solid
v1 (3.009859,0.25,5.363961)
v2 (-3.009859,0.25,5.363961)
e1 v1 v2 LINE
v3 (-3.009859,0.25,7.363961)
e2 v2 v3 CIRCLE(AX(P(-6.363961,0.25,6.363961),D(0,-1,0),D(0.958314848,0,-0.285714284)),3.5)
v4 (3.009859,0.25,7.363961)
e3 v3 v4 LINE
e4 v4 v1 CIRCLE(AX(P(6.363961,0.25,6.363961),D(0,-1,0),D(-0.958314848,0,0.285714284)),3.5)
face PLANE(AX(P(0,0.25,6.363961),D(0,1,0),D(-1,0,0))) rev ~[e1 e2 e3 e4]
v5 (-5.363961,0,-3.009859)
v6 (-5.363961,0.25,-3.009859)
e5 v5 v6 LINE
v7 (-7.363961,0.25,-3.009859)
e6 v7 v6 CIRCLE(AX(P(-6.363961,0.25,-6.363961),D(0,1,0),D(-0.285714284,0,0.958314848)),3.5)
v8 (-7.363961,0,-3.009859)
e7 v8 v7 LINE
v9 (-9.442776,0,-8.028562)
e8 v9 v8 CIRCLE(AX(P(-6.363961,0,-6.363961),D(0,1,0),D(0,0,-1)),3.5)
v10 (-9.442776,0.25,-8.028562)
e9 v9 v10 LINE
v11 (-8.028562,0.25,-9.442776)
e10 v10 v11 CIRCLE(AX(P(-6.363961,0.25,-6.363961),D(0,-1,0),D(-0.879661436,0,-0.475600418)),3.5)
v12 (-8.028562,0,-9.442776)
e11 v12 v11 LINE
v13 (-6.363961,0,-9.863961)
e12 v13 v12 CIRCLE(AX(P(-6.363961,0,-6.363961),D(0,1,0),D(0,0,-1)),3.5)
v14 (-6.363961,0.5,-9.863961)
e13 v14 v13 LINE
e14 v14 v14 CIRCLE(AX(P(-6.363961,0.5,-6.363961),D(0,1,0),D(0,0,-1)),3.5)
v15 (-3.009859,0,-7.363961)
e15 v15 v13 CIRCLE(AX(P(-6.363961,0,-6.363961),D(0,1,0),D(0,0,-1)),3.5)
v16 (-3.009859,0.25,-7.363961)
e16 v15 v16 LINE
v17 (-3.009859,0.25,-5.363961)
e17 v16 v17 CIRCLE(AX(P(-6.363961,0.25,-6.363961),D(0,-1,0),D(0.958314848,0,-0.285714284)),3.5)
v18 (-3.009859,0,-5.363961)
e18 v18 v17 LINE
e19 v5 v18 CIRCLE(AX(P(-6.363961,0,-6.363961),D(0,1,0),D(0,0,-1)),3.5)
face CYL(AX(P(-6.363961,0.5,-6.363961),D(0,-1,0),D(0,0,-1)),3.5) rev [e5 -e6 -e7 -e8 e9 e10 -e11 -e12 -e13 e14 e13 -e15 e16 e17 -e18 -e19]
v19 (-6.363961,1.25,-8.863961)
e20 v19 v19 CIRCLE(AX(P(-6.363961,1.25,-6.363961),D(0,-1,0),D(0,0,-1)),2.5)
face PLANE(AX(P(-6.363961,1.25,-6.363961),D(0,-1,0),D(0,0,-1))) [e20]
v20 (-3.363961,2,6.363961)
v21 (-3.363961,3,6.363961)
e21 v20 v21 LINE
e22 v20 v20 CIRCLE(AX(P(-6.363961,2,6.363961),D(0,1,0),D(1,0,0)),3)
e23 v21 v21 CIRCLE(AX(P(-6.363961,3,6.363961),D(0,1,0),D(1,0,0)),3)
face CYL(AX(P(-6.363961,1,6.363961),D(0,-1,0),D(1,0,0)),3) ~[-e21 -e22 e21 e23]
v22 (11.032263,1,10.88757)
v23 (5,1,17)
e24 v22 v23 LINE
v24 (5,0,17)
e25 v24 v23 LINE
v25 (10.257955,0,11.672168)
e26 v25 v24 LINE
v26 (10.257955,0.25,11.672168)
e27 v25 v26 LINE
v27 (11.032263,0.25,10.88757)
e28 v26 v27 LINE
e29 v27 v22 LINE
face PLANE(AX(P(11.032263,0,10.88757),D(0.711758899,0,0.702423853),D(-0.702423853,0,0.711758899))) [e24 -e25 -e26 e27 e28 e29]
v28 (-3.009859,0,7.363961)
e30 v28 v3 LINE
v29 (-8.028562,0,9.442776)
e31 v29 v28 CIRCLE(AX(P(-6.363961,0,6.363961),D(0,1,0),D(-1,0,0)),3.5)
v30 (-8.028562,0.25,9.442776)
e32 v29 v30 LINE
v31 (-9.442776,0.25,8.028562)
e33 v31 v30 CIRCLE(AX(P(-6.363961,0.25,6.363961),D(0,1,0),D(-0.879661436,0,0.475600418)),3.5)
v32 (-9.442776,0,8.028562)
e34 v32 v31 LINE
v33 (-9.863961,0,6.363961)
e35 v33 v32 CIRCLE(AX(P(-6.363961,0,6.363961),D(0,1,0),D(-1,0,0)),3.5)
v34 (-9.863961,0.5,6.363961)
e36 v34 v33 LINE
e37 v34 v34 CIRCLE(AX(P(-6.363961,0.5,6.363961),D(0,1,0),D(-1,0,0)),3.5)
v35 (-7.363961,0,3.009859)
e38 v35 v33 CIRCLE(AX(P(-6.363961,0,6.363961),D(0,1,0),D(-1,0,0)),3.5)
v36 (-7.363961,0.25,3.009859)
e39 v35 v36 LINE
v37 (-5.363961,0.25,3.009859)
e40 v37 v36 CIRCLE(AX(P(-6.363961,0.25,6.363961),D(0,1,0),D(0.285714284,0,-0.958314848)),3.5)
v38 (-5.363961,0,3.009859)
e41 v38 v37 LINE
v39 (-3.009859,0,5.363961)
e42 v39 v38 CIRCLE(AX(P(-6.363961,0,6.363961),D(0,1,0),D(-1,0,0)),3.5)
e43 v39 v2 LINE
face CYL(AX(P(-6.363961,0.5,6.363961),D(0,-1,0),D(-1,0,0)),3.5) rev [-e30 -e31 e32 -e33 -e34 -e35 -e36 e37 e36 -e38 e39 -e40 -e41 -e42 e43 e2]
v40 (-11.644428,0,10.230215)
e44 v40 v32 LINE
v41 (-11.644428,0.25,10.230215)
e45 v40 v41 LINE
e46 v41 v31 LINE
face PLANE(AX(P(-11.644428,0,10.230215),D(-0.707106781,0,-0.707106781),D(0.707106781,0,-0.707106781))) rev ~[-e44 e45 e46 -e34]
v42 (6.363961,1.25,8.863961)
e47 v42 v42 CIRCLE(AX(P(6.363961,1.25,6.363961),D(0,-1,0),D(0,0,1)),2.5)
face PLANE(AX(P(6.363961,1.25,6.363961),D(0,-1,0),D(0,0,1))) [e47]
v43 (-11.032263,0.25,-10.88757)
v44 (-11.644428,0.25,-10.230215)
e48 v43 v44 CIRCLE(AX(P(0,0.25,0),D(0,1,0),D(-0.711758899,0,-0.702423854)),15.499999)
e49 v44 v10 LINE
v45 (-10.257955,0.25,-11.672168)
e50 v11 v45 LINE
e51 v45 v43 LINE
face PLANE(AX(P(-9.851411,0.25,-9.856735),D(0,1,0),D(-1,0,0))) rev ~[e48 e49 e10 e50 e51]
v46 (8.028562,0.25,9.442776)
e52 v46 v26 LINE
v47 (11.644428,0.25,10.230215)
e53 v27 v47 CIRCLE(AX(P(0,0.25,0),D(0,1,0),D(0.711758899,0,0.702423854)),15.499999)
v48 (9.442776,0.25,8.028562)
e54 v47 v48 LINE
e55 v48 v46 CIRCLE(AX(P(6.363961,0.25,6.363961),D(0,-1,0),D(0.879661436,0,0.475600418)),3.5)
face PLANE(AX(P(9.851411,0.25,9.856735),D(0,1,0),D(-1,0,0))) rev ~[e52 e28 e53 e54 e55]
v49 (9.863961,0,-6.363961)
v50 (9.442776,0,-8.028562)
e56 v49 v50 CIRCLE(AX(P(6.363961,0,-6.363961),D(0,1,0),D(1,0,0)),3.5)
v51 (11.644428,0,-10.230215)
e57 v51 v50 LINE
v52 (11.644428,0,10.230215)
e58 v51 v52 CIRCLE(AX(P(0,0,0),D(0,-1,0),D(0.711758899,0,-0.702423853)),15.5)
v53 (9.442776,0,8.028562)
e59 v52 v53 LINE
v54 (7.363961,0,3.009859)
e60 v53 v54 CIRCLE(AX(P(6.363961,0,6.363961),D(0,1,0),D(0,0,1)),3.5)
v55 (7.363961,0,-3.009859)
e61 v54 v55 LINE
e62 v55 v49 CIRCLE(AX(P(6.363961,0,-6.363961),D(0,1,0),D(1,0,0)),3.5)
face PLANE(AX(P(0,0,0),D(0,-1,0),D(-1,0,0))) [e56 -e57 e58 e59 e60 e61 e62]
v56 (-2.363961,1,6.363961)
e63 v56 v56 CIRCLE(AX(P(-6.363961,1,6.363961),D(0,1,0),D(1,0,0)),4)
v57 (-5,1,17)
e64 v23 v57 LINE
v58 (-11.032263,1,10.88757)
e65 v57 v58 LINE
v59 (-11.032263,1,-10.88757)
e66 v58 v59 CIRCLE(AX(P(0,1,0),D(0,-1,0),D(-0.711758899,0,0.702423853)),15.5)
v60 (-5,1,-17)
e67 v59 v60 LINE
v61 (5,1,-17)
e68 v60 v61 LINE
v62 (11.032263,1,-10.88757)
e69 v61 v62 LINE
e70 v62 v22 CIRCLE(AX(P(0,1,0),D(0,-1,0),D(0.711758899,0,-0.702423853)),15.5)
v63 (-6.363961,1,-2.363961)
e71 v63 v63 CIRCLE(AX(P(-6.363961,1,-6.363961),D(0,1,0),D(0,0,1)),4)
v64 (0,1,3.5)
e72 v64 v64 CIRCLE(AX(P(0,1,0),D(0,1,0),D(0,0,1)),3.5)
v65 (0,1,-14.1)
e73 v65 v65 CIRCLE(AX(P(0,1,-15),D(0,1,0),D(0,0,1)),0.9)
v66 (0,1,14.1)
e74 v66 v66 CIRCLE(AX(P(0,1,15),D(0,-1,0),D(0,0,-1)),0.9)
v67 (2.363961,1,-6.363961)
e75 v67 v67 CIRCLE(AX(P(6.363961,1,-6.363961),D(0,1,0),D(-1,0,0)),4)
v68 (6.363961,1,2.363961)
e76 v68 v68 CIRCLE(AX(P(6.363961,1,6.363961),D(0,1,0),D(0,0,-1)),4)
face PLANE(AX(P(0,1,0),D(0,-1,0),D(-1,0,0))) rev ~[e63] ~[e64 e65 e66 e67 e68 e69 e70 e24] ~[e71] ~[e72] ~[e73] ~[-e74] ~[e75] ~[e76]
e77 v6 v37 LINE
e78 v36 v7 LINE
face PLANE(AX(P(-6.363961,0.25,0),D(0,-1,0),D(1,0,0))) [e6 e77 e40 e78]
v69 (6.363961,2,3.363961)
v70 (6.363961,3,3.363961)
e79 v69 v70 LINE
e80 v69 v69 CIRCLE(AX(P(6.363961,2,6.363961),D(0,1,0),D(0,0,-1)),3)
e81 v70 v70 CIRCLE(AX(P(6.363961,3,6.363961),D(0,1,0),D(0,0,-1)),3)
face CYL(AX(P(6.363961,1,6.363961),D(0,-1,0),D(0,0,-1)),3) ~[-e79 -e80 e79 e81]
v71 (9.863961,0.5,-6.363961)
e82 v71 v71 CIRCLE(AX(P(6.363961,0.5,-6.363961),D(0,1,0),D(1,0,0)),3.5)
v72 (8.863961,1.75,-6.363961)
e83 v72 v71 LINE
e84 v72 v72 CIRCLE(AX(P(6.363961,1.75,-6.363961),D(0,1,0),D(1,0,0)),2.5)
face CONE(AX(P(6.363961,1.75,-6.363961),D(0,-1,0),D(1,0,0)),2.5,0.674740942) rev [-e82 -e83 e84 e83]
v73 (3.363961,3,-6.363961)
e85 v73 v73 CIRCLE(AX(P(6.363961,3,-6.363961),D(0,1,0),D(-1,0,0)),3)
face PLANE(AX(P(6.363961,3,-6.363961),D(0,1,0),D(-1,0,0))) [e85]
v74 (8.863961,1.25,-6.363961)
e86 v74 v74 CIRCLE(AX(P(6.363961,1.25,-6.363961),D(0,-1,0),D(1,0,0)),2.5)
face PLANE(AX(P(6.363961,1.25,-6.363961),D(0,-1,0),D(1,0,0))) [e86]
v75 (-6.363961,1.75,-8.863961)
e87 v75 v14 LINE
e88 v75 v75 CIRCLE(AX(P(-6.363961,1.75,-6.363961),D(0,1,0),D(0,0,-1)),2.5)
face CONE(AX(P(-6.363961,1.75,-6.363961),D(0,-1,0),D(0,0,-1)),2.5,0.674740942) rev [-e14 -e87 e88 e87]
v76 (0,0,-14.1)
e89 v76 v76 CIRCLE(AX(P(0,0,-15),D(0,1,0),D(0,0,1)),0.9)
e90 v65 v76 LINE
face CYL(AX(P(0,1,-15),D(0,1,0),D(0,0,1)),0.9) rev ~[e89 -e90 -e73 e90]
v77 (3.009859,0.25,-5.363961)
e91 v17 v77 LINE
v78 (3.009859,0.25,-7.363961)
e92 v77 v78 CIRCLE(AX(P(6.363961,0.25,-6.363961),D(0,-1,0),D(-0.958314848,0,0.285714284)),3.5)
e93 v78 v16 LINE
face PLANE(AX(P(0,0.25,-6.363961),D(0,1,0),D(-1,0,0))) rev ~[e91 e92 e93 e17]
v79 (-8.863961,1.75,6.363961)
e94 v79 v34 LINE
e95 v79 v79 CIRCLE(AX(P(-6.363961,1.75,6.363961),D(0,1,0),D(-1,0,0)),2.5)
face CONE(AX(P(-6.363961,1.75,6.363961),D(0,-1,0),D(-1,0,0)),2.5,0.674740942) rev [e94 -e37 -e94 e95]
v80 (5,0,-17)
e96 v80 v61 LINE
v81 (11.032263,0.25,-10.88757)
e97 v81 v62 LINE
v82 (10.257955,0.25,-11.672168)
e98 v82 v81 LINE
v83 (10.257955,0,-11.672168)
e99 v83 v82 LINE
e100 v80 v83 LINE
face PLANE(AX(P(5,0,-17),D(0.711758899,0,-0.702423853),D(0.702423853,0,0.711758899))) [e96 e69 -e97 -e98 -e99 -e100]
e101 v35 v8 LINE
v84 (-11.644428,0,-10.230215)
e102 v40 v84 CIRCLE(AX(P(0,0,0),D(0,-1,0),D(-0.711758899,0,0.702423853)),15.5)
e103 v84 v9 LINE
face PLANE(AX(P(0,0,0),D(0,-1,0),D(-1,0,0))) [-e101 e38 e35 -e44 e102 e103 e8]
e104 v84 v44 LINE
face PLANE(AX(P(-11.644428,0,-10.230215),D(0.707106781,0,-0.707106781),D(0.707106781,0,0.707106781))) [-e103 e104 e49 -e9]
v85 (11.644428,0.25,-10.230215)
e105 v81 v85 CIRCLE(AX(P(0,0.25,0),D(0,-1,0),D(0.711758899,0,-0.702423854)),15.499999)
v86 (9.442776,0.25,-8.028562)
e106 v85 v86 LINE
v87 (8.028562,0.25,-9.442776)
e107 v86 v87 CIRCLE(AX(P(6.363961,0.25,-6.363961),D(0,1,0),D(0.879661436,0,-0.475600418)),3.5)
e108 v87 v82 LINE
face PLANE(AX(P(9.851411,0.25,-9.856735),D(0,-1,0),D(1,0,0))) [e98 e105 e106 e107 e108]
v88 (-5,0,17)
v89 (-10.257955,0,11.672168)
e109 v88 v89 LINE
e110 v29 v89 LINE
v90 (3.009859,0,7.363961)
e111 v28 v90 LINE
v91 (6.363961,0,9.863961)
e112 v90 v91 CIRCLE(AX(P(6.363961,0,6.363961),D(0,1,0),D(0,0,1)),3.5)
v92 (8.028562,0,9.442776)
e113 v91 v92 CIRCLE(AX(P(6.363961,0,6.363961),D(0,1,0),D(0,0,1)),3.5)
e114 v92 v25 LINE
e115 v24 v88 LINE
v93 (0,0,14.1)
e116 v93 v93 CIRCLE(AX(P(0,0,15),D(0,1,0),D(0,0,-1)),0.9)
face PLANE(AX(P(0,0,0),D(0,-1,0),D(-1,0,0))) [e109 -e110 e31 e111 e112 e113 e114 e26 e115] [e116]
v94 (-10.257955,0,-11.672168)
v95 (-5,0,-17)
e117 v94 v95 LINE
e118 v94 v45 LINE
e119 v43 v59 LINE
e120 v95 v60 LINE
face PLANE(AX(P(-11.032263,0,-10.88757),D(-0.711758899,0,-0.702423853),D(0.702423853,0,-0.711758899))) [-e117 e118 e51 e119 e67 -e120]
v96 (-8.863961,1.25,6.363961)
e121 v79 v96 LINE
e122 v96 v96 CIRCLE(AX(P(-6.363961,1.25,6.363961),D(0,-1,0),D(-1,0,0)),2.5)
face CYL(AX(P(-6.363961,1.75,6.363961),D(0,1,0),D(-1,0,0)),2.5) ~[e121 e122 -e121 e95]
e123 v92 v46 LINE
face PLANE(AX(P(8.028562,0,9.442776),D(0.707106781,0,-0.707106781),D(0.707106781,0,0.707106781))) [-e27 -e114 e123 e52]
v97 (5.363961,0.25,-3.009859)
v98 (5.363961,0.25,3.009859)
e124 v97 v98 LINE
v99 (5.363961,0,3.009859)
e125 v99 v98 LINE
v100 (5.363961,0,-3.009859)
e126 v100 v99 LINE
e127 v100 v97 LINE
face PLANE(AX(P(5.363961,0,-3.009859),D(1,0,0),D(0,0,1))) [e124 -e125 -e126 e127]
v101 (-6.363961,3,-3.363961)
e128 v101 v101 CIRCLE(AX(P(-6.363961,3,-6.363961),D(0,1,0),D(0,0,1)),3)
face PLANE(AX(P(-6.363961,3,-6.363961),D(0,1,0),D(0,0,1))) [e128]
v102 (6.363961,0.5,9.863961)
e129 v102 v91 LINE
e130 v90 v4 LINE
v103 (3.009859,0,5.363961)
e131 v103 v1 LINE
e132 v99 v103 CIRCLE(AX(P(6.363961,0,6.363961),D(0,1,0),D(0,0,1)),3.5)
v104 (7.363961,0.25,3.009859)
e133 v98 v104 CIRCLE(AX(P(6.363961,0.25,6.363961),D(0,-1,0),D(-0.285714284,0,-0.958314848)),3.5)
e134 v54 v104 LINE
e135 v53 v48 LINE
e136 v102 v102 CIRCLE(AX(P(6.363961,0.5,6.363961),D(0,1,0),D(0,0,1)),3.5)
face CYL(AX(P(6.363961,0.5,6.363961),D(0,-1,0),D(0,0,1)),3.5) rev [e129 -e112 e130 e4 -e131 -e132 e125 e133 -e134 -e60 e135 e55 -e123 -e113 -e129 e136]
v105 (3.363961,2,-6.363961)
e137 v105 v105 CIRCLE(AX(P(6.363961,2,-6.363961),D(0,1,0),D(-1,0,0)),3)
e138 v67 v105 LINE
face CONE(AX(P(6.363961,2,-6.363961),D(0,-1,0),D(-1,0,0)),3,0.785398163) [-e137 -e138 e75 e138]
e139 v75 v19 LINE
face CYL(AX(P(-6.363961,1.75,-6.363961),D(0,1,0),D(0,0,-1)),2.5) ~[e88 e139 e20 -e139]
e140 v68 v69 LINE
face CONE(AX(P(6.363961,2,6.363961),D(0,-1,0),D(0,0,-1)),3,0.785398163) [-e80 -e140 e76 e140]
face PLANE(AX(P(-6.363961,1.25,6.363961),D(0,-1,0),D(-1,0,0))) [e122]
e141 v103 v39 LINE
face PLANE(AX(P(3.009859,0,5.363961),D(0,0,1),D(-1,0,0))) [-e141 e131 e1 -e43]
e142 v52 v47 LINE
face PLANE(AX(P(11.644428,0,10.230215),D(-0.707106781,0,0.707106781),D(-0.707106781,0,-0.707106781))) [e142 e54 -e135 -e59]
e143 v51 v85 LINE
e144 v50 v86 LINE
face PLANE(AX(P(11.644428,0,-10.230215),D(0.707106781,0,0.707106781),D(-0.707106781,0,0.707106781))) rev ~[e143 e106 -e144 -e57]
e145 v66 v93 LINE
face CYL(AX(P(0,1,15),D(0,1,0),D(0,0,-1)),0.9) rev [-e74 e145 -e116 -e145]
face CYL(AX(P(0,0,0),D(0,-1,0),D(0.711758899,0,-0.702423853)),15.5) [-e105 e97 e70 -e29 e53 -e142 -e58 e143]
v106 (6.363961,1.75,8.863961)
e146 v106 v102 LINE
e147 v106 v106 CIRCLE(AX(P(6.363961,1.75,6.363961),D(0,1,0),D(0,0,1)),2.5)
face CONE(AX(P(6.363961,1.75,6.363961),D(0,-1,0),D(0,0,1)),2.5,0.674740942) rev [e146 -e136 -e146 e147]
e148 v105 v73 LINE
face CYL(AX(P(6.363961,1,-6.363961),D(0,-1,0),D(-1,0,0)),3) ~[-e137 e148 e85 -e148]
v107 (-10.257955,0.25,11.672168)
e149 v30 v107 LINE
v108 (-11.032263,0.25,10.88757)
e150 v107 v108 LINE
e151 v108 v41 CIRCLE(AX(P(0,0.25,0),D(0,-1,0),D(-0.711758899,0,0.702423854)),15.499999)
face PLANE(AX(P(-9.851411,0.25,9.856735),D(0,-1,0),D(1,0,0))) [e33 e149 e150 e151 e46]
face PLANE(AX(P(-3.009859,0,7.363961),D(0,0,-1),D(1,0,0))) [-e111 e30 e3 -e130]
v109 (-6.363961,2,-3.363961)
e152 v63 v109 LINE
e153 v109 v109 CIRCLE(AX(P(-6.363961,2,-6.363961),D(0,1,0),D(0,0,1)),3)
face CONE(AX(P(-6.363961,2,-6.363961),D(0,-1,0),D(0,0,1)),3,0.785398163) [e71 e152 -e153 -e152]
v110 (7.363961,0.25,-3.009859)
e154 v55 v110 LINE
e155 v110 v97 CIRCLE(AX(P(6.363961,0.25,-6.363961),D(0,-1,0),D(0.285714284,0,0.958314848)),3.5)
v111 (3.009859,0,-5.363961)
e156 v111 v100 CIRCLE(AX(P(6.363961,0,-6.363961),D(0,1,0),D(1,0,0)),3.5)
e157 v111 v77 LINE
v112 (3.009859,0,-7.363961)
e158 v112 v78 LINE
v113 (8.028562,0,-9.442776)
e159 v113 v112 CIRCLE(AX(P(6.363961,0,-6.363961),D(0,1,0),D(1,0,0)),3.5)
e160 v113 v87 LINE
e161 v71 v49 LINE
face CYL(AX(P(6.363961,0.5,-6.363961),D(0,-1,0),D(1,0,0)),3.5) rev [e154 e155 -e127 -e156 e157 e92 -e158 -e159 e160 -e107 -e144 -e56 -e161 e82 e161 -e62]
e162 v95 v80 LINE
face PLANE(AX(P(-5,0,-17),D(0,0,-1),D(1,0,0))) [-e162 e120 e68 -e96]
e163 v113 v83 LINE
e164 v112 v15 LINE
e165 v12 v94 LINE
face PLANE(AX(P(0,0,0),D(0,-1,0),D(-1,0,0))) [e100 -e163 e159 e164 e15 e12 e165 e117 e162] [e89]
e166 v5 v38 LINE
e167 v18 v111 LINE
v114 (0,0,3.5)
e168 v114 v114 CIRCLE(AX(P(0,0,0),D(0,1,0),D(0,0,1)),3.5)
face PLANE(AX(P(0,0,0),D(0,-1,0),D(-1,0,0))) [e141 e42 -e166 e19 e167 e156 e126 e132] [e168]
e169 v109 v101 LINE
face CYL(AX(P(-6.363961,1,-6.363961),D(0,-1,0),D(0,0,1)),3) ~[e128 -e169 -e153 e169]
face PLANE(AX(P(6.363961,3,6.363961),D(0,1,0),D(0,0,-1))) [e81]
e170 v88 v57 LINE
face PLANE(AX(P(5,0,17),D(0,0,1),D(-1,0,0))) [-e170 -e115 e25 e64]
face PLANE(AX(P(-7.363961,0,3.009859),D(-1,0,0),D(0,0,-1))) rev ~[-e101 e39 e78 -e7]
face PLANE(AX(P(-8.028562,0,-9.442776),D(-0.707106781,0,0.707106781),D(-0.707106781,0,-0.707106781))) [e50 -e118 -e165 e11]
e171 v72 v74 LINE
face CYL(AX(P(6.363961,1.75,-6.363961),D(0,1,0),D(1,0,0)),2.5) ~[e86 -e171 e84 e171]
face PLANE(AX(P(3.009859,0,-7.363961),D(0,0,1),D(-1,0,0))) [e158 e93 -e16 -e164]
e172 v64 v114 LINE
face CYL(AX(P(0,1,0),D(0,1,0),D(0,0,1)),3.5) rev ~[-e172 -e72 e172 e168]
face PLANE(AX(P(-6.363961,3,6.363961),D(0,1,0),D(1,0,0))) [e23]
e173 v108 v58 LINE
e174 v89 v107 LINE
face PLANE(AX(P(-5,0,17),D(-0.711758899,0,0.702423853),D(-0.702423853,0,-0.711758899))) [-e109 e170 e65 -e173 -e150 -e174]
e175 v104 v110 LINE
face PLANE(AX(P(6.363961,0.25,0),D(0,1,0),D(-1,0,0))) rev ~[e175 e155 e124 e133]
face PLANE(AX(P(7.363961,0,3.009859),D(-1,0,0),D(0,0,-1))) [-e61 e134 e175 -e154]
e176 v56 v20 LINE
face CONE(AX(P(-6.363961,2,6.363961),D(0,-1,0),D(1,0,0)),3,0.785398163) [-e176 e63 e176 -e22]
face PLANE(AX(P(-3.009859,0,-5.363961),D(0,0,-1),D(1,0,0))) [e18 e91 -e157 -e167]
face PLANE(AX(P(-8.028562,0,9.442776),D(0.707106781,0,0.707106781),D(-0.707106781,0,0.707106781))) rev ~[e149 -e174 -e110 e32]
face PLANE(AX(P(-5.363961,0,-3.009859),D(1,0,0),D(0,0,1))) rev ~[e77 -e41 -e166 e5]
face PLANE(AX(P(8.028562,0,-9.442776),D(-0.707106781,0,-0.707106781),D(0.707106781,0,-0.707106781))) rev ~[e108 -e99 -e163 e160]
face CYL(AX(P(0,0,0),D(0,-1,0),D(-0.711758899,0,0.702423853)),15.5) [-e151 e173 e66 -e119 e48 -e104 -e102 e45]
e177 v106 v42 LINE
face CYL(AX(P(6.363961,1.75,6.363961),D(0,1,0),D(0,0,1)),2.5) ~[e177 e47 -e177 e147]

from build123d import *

# Parameters (mm, degrees)
BOSS_EXTRUDE1_DEPTH = 1
SKETCH2_R           = 3.5
CUT_EXTRUDE1_DEPTH  = 24.027157879
SKETCH3_R           = 3
BOSS_EXTRUDE2_DEPTH = 2
CIRPATTERN1_COUNT   = 4
CHAMFER1_SIZE       = 1
CIRPATTERN2_COUNT   = 4
CUT_EXTRUDE4_DEPTH  = 0.25
SKETCH6_R           = 2.5
BOSS_EXTRUDE3_DEPTH = 0.5
CIRPATTERN3_COUNT   = 4
SKETCH7_R           = 0.9
CUT_EXTRUDE5_DEPTH  = 24.092206478


with BuildPart() as part:
    # Sketch1 → Boss-Extrude1 (new body)
    with BuildSketch(Plane(origin=(0, 0, 0), x_dir=(1, 0, 0), z_dir=(0, 1, 0))):
        with BuildLine():
            Line((5, 17), (11.032262936, 10.887569725))
            ThreePointArc((11.032262936, 10.887569725), (15.5, 0), (11.032262936, -10.887569725))
            Line((11.032262936, -10.887569725), (5, -17))
            Line((5, -17), (-5, -17))
            Line((-5, -17), (-11.032262936, -10.887569725))
            ThreePointArc((-11.032262936, -10.887569725), (-15.5, 0), (-11.032262936, 10.887569725))
            Line((-11.032262936, 10.887569725), (-5, 17))
            Line((-5, 17), (5, 17))
        make_face()
    extrude(amount=BOSS_EXTRUDE1_DEPTH)

    # Sketch2 → Cut-Extrude1 (cut, through all)
    with BuildSketch(Plane(origin=(0, 1, 0), x_dir=(1, 0, 0), z_dir=(0, 1, 0))):
        with Locations(Location((0, 0, 0), (0, 0, 270))):
            Circle(SKETCH2_R)
    extrude(amount=-CUT_EXTRUDE1_DEPTH, mode=Mode.SUBTRACT)

    # Sketch3 → Boss-Extrude2 (add)
    with BuildSketch(Plane(origin=(0, 1, 0), x_dir=(1, 0, 0), z_dir=(0, 1, 0))):
        with Locations(Location((-6.363961031, 6.363961031, 0), (0, 0, 270))):
            Circle(SKETCH3_R)
    boss_extrude2 = extrude(amount=BOSS_EXTRUDE2_DEPTH)

    # CirPattern1: Boss-Extrude2 ×4 about axis
    cirpattern1_axis = Axis((0, 0, 0), (0, 1, 0))
    for i in range(1, CIRPATTERN1_COUNT):
        add(boss_extrude2.rotate(cirpattern1_axis, i * 360 / CIRPATTERN1_COUNT))

    # Chamfer1
    chamfer1_edges = [part.edges().sort_by_distance(p)[0] for p in [
        (-6.363961031, 1, -9.363961031),
        (-9.363961031, 1, 6.363961031),
        (6.363961031, 1, 9.363961031),
        (9.363961031, 1, -6.363961031),
    ]]
    chamfer(chamfer1_edges, length=CHAMFER1_SIZE)

    # Sketch4 → Cut-Revolve1 (revolve, cut)
    with BuildSketch(Plane(origin=(0, 0, 0), x_dir=(-0.7071067811865477, 0, -0.7071067811865475), z_dir=(0.7071067811865475, 0, -0.7071067811865477)), mode=Mode.PRIVATE) as cut_revolve1_sk:
        Polygon((12.5, 0), (9, 0), (9, 1.75), (11.5, 1.75), (12.5, 0.5), align=None)
    cut_revolve1 = revolve(cut_revolve1_sk.sketch.rotate(Axis((-6.363961031, 1, -6.363961031), (0, 1, 0)), 315), axis=Axis((-6.363961031, 1, -6.363961031), (0, 1, 0)), mode=Mode.SUBTRACT)

    # CirPattern2: Cut-Revolve1 ×4 about axis
    cirpattern2_axis = Axis((0, 0, 0), (0, 1, 0))
    for i in range(1, CIRPATTERN2_COUNT):
        add(cut_revolve1.rotate(cirpattern2_axis, i * 360 / CIRPATTERN2_COUNT), mode=Mode.SUBTRACT)

    # Sketch5 → Cut-Extrude4 (cut)
    with BuildSketch(Plane.XZ):
        with BuildLine():
            Line((-3.009859064, 7.363961031), (3.009859064, 7.363961031))
            ThreePointArc((3.009859064, 7.363961031), (2.863961031, 6.363961031), (3.009859064, 5.363961031))
            Line((3.009859064, 5.363961031), (-3.009859064, 5.363961031))
            ThreePointArc((-3.009859064, 5.363961031), (-2.863961031, 6.363961031), (-3.009859064, 7.363961031))
        make_face()
        with BuildLine():
            Line((-7.363961031, 3.009859064), (-7.363961031, -3.009859064))
            ThreePointArc((-7.363961031, -3.009859064), (-6.363961031, -2.863961031), (-5.363961031, -3.009859064))
            Line((-5.363961031, -3.009859064), (-5.363961031, 3.009859064))
            ThreePointArc((-5.363961031, 3.009859064), (-6.363961031, 2.863961031), (-7.363961031, 3.009859064))
        make_face()
        with BuildLine():
            Line((-3.009859064, -5.363961031), (3.009859064, -5.363961031))
            ThreePointArc((3.009859064, -5.363961031), (2.863961031, -6.363961031), (3.009859064, -7.363961031))
            Line((3.009859064, -7.363961031), (-3.009859064, -7.363961031))
            ThreePointArc((-3.009859064, -7.363961031), (-2.863961031, -6.363961031), (-3.009859064, -5.363961031))
        make_face()
        with BuildLine():
            Line((5.363961031, -3.009859064), (5.363961031, 3.009859064))
            ThreePointArc((5.363961031, 3.009859064), (6.363961031, 2.863961031), (7.363961031, 3.009859064))
            Line((7.363961031, 3.009859064), (7.363961031, -3.009859064))
            ThreePointArc((7.363961031, -3.009859064), (6.363961031, -2.863961031), (5.363961031, -3.009859064))
        make_face()
        with BuildLine():
            Line((8.028562495, 9.442776057), (10.257954735, 11.672168297))
            Line((10.257954735, 11.672168297), (11.032262936, 10.887569725))
            ThreePointArc((11.032262936, 10.887569725), (11.343108447, 10.563327637), (11.644428208, 10.230214646))
            Line((11.644428208, 10.230214646), (9.442776057, 8.028562495))
            ThreePointArc((9.442776057, 8.028562495), (8.838834765, 8.838834765), (8.028562495, 9.442776057))
        make_face()
        with BuildLine():
            Line((-8.028562495, 9.442776057), (-10.257954735, 11.672168297))
            Line((-10.257954735, 11.672168297), (-11.032262936, 10.887569725))
            ThreePointArc((-11.032262936, 10.887569725), (-11.343108447, 10.563327637), (-11.644428208, 10.230214646))
            Line((-11.644428208, 10.230214646), (-9.442776057, 8.028562495))
            ThreePointArc((-9.442776057, 8.028562495), (-8.838834765, 8.838834765), (-8.028562495, 9.442776057))
        make_face()
        with BuildLine():
            Line((-8.028562495, -9.442776057), (-10.257954735, -11.672168297))
            Line((-10.257954735, -11.672168297), (-11.032262936, -10.887569725))
            ThreePointArc((-11.032262936, -10.887569725), (-11.343108447, -10.563327637), (-11.644428208, -10.230214646))
            Line((-11.644428208, -10.230214646), (-9.442776057, -8.028562495))
            ThreePointArc((-9.442776057, -8.028562495), (-8.838834765, -8.838834765), (-8.028562495, -9.442776057))
        make_face()
        with BuildLine():
            Line((8.028562495, -9.442776057), (10.257954735, -11.672168297))
            Line((10.257954735, -11.672168297), (11.032262936, -10.887569725))
            ThreePointArc((11.032262936, -10.887569725), (11.343108447, -10.563327637), (11.644428208, -10.230214646))
            Line((11.644428208, -10.230214646), (9.442776057, -8.028562495))
            ThreePointArc((9.442776057, -8.028562495), (8.838834765, -8.838834765), (8.028562495, -9.442776057))
        make_face()
    extrude(amount=-CUT_EXTRUDE4_DEPTH, mode=Mode.SUBTRACT)

    # Sketch6 → Boss-Extrude3 (add)
    with BuildSketch(Plane.XZ.offset(-1.75)):
        with Locations(Location((-6.363961031, -6.363961031, 0), (0, 0, 270))):
            Circle(SKETCH6_R)
    boss_extrude3 = extrude(amount=BOSS_EXTRUDE3_DEPTH)

    # CirPattern3: Boss-Extrude3 ×4 about axis
    cirpattern3_axis = Axis((0, 0, 0), (0, 1, 0))
    for i in range(1, CIRPATTERN3_COUNT):
        add(boss_extrude3.rotate(cirpattern3_axis, i * 360 / CIRPATTERN3_COUNT))

    # Sketch7 → Cut-Extrude5 (cut, through all)
    with BuildSketch(Plane(origin=(0, 1, 0), x_dir=(1, 0, 0), z_dir=(0, 1, 0))):
        with Locations(Location((0, 15, 0), (0, 0, 270))):
            Circle(SKETCH7_R)
    cut_extrude5 = extrude(amount=-CUT_EXTRUDE5_DEPTH, mode=Mode.SUBTRACT)

    # Mirror1: Cut-Extrude5 across plane
    add(cut_extrude5.mirror(Plane.XY), mode=Mode.SUBTRACT)


solid = part.part
